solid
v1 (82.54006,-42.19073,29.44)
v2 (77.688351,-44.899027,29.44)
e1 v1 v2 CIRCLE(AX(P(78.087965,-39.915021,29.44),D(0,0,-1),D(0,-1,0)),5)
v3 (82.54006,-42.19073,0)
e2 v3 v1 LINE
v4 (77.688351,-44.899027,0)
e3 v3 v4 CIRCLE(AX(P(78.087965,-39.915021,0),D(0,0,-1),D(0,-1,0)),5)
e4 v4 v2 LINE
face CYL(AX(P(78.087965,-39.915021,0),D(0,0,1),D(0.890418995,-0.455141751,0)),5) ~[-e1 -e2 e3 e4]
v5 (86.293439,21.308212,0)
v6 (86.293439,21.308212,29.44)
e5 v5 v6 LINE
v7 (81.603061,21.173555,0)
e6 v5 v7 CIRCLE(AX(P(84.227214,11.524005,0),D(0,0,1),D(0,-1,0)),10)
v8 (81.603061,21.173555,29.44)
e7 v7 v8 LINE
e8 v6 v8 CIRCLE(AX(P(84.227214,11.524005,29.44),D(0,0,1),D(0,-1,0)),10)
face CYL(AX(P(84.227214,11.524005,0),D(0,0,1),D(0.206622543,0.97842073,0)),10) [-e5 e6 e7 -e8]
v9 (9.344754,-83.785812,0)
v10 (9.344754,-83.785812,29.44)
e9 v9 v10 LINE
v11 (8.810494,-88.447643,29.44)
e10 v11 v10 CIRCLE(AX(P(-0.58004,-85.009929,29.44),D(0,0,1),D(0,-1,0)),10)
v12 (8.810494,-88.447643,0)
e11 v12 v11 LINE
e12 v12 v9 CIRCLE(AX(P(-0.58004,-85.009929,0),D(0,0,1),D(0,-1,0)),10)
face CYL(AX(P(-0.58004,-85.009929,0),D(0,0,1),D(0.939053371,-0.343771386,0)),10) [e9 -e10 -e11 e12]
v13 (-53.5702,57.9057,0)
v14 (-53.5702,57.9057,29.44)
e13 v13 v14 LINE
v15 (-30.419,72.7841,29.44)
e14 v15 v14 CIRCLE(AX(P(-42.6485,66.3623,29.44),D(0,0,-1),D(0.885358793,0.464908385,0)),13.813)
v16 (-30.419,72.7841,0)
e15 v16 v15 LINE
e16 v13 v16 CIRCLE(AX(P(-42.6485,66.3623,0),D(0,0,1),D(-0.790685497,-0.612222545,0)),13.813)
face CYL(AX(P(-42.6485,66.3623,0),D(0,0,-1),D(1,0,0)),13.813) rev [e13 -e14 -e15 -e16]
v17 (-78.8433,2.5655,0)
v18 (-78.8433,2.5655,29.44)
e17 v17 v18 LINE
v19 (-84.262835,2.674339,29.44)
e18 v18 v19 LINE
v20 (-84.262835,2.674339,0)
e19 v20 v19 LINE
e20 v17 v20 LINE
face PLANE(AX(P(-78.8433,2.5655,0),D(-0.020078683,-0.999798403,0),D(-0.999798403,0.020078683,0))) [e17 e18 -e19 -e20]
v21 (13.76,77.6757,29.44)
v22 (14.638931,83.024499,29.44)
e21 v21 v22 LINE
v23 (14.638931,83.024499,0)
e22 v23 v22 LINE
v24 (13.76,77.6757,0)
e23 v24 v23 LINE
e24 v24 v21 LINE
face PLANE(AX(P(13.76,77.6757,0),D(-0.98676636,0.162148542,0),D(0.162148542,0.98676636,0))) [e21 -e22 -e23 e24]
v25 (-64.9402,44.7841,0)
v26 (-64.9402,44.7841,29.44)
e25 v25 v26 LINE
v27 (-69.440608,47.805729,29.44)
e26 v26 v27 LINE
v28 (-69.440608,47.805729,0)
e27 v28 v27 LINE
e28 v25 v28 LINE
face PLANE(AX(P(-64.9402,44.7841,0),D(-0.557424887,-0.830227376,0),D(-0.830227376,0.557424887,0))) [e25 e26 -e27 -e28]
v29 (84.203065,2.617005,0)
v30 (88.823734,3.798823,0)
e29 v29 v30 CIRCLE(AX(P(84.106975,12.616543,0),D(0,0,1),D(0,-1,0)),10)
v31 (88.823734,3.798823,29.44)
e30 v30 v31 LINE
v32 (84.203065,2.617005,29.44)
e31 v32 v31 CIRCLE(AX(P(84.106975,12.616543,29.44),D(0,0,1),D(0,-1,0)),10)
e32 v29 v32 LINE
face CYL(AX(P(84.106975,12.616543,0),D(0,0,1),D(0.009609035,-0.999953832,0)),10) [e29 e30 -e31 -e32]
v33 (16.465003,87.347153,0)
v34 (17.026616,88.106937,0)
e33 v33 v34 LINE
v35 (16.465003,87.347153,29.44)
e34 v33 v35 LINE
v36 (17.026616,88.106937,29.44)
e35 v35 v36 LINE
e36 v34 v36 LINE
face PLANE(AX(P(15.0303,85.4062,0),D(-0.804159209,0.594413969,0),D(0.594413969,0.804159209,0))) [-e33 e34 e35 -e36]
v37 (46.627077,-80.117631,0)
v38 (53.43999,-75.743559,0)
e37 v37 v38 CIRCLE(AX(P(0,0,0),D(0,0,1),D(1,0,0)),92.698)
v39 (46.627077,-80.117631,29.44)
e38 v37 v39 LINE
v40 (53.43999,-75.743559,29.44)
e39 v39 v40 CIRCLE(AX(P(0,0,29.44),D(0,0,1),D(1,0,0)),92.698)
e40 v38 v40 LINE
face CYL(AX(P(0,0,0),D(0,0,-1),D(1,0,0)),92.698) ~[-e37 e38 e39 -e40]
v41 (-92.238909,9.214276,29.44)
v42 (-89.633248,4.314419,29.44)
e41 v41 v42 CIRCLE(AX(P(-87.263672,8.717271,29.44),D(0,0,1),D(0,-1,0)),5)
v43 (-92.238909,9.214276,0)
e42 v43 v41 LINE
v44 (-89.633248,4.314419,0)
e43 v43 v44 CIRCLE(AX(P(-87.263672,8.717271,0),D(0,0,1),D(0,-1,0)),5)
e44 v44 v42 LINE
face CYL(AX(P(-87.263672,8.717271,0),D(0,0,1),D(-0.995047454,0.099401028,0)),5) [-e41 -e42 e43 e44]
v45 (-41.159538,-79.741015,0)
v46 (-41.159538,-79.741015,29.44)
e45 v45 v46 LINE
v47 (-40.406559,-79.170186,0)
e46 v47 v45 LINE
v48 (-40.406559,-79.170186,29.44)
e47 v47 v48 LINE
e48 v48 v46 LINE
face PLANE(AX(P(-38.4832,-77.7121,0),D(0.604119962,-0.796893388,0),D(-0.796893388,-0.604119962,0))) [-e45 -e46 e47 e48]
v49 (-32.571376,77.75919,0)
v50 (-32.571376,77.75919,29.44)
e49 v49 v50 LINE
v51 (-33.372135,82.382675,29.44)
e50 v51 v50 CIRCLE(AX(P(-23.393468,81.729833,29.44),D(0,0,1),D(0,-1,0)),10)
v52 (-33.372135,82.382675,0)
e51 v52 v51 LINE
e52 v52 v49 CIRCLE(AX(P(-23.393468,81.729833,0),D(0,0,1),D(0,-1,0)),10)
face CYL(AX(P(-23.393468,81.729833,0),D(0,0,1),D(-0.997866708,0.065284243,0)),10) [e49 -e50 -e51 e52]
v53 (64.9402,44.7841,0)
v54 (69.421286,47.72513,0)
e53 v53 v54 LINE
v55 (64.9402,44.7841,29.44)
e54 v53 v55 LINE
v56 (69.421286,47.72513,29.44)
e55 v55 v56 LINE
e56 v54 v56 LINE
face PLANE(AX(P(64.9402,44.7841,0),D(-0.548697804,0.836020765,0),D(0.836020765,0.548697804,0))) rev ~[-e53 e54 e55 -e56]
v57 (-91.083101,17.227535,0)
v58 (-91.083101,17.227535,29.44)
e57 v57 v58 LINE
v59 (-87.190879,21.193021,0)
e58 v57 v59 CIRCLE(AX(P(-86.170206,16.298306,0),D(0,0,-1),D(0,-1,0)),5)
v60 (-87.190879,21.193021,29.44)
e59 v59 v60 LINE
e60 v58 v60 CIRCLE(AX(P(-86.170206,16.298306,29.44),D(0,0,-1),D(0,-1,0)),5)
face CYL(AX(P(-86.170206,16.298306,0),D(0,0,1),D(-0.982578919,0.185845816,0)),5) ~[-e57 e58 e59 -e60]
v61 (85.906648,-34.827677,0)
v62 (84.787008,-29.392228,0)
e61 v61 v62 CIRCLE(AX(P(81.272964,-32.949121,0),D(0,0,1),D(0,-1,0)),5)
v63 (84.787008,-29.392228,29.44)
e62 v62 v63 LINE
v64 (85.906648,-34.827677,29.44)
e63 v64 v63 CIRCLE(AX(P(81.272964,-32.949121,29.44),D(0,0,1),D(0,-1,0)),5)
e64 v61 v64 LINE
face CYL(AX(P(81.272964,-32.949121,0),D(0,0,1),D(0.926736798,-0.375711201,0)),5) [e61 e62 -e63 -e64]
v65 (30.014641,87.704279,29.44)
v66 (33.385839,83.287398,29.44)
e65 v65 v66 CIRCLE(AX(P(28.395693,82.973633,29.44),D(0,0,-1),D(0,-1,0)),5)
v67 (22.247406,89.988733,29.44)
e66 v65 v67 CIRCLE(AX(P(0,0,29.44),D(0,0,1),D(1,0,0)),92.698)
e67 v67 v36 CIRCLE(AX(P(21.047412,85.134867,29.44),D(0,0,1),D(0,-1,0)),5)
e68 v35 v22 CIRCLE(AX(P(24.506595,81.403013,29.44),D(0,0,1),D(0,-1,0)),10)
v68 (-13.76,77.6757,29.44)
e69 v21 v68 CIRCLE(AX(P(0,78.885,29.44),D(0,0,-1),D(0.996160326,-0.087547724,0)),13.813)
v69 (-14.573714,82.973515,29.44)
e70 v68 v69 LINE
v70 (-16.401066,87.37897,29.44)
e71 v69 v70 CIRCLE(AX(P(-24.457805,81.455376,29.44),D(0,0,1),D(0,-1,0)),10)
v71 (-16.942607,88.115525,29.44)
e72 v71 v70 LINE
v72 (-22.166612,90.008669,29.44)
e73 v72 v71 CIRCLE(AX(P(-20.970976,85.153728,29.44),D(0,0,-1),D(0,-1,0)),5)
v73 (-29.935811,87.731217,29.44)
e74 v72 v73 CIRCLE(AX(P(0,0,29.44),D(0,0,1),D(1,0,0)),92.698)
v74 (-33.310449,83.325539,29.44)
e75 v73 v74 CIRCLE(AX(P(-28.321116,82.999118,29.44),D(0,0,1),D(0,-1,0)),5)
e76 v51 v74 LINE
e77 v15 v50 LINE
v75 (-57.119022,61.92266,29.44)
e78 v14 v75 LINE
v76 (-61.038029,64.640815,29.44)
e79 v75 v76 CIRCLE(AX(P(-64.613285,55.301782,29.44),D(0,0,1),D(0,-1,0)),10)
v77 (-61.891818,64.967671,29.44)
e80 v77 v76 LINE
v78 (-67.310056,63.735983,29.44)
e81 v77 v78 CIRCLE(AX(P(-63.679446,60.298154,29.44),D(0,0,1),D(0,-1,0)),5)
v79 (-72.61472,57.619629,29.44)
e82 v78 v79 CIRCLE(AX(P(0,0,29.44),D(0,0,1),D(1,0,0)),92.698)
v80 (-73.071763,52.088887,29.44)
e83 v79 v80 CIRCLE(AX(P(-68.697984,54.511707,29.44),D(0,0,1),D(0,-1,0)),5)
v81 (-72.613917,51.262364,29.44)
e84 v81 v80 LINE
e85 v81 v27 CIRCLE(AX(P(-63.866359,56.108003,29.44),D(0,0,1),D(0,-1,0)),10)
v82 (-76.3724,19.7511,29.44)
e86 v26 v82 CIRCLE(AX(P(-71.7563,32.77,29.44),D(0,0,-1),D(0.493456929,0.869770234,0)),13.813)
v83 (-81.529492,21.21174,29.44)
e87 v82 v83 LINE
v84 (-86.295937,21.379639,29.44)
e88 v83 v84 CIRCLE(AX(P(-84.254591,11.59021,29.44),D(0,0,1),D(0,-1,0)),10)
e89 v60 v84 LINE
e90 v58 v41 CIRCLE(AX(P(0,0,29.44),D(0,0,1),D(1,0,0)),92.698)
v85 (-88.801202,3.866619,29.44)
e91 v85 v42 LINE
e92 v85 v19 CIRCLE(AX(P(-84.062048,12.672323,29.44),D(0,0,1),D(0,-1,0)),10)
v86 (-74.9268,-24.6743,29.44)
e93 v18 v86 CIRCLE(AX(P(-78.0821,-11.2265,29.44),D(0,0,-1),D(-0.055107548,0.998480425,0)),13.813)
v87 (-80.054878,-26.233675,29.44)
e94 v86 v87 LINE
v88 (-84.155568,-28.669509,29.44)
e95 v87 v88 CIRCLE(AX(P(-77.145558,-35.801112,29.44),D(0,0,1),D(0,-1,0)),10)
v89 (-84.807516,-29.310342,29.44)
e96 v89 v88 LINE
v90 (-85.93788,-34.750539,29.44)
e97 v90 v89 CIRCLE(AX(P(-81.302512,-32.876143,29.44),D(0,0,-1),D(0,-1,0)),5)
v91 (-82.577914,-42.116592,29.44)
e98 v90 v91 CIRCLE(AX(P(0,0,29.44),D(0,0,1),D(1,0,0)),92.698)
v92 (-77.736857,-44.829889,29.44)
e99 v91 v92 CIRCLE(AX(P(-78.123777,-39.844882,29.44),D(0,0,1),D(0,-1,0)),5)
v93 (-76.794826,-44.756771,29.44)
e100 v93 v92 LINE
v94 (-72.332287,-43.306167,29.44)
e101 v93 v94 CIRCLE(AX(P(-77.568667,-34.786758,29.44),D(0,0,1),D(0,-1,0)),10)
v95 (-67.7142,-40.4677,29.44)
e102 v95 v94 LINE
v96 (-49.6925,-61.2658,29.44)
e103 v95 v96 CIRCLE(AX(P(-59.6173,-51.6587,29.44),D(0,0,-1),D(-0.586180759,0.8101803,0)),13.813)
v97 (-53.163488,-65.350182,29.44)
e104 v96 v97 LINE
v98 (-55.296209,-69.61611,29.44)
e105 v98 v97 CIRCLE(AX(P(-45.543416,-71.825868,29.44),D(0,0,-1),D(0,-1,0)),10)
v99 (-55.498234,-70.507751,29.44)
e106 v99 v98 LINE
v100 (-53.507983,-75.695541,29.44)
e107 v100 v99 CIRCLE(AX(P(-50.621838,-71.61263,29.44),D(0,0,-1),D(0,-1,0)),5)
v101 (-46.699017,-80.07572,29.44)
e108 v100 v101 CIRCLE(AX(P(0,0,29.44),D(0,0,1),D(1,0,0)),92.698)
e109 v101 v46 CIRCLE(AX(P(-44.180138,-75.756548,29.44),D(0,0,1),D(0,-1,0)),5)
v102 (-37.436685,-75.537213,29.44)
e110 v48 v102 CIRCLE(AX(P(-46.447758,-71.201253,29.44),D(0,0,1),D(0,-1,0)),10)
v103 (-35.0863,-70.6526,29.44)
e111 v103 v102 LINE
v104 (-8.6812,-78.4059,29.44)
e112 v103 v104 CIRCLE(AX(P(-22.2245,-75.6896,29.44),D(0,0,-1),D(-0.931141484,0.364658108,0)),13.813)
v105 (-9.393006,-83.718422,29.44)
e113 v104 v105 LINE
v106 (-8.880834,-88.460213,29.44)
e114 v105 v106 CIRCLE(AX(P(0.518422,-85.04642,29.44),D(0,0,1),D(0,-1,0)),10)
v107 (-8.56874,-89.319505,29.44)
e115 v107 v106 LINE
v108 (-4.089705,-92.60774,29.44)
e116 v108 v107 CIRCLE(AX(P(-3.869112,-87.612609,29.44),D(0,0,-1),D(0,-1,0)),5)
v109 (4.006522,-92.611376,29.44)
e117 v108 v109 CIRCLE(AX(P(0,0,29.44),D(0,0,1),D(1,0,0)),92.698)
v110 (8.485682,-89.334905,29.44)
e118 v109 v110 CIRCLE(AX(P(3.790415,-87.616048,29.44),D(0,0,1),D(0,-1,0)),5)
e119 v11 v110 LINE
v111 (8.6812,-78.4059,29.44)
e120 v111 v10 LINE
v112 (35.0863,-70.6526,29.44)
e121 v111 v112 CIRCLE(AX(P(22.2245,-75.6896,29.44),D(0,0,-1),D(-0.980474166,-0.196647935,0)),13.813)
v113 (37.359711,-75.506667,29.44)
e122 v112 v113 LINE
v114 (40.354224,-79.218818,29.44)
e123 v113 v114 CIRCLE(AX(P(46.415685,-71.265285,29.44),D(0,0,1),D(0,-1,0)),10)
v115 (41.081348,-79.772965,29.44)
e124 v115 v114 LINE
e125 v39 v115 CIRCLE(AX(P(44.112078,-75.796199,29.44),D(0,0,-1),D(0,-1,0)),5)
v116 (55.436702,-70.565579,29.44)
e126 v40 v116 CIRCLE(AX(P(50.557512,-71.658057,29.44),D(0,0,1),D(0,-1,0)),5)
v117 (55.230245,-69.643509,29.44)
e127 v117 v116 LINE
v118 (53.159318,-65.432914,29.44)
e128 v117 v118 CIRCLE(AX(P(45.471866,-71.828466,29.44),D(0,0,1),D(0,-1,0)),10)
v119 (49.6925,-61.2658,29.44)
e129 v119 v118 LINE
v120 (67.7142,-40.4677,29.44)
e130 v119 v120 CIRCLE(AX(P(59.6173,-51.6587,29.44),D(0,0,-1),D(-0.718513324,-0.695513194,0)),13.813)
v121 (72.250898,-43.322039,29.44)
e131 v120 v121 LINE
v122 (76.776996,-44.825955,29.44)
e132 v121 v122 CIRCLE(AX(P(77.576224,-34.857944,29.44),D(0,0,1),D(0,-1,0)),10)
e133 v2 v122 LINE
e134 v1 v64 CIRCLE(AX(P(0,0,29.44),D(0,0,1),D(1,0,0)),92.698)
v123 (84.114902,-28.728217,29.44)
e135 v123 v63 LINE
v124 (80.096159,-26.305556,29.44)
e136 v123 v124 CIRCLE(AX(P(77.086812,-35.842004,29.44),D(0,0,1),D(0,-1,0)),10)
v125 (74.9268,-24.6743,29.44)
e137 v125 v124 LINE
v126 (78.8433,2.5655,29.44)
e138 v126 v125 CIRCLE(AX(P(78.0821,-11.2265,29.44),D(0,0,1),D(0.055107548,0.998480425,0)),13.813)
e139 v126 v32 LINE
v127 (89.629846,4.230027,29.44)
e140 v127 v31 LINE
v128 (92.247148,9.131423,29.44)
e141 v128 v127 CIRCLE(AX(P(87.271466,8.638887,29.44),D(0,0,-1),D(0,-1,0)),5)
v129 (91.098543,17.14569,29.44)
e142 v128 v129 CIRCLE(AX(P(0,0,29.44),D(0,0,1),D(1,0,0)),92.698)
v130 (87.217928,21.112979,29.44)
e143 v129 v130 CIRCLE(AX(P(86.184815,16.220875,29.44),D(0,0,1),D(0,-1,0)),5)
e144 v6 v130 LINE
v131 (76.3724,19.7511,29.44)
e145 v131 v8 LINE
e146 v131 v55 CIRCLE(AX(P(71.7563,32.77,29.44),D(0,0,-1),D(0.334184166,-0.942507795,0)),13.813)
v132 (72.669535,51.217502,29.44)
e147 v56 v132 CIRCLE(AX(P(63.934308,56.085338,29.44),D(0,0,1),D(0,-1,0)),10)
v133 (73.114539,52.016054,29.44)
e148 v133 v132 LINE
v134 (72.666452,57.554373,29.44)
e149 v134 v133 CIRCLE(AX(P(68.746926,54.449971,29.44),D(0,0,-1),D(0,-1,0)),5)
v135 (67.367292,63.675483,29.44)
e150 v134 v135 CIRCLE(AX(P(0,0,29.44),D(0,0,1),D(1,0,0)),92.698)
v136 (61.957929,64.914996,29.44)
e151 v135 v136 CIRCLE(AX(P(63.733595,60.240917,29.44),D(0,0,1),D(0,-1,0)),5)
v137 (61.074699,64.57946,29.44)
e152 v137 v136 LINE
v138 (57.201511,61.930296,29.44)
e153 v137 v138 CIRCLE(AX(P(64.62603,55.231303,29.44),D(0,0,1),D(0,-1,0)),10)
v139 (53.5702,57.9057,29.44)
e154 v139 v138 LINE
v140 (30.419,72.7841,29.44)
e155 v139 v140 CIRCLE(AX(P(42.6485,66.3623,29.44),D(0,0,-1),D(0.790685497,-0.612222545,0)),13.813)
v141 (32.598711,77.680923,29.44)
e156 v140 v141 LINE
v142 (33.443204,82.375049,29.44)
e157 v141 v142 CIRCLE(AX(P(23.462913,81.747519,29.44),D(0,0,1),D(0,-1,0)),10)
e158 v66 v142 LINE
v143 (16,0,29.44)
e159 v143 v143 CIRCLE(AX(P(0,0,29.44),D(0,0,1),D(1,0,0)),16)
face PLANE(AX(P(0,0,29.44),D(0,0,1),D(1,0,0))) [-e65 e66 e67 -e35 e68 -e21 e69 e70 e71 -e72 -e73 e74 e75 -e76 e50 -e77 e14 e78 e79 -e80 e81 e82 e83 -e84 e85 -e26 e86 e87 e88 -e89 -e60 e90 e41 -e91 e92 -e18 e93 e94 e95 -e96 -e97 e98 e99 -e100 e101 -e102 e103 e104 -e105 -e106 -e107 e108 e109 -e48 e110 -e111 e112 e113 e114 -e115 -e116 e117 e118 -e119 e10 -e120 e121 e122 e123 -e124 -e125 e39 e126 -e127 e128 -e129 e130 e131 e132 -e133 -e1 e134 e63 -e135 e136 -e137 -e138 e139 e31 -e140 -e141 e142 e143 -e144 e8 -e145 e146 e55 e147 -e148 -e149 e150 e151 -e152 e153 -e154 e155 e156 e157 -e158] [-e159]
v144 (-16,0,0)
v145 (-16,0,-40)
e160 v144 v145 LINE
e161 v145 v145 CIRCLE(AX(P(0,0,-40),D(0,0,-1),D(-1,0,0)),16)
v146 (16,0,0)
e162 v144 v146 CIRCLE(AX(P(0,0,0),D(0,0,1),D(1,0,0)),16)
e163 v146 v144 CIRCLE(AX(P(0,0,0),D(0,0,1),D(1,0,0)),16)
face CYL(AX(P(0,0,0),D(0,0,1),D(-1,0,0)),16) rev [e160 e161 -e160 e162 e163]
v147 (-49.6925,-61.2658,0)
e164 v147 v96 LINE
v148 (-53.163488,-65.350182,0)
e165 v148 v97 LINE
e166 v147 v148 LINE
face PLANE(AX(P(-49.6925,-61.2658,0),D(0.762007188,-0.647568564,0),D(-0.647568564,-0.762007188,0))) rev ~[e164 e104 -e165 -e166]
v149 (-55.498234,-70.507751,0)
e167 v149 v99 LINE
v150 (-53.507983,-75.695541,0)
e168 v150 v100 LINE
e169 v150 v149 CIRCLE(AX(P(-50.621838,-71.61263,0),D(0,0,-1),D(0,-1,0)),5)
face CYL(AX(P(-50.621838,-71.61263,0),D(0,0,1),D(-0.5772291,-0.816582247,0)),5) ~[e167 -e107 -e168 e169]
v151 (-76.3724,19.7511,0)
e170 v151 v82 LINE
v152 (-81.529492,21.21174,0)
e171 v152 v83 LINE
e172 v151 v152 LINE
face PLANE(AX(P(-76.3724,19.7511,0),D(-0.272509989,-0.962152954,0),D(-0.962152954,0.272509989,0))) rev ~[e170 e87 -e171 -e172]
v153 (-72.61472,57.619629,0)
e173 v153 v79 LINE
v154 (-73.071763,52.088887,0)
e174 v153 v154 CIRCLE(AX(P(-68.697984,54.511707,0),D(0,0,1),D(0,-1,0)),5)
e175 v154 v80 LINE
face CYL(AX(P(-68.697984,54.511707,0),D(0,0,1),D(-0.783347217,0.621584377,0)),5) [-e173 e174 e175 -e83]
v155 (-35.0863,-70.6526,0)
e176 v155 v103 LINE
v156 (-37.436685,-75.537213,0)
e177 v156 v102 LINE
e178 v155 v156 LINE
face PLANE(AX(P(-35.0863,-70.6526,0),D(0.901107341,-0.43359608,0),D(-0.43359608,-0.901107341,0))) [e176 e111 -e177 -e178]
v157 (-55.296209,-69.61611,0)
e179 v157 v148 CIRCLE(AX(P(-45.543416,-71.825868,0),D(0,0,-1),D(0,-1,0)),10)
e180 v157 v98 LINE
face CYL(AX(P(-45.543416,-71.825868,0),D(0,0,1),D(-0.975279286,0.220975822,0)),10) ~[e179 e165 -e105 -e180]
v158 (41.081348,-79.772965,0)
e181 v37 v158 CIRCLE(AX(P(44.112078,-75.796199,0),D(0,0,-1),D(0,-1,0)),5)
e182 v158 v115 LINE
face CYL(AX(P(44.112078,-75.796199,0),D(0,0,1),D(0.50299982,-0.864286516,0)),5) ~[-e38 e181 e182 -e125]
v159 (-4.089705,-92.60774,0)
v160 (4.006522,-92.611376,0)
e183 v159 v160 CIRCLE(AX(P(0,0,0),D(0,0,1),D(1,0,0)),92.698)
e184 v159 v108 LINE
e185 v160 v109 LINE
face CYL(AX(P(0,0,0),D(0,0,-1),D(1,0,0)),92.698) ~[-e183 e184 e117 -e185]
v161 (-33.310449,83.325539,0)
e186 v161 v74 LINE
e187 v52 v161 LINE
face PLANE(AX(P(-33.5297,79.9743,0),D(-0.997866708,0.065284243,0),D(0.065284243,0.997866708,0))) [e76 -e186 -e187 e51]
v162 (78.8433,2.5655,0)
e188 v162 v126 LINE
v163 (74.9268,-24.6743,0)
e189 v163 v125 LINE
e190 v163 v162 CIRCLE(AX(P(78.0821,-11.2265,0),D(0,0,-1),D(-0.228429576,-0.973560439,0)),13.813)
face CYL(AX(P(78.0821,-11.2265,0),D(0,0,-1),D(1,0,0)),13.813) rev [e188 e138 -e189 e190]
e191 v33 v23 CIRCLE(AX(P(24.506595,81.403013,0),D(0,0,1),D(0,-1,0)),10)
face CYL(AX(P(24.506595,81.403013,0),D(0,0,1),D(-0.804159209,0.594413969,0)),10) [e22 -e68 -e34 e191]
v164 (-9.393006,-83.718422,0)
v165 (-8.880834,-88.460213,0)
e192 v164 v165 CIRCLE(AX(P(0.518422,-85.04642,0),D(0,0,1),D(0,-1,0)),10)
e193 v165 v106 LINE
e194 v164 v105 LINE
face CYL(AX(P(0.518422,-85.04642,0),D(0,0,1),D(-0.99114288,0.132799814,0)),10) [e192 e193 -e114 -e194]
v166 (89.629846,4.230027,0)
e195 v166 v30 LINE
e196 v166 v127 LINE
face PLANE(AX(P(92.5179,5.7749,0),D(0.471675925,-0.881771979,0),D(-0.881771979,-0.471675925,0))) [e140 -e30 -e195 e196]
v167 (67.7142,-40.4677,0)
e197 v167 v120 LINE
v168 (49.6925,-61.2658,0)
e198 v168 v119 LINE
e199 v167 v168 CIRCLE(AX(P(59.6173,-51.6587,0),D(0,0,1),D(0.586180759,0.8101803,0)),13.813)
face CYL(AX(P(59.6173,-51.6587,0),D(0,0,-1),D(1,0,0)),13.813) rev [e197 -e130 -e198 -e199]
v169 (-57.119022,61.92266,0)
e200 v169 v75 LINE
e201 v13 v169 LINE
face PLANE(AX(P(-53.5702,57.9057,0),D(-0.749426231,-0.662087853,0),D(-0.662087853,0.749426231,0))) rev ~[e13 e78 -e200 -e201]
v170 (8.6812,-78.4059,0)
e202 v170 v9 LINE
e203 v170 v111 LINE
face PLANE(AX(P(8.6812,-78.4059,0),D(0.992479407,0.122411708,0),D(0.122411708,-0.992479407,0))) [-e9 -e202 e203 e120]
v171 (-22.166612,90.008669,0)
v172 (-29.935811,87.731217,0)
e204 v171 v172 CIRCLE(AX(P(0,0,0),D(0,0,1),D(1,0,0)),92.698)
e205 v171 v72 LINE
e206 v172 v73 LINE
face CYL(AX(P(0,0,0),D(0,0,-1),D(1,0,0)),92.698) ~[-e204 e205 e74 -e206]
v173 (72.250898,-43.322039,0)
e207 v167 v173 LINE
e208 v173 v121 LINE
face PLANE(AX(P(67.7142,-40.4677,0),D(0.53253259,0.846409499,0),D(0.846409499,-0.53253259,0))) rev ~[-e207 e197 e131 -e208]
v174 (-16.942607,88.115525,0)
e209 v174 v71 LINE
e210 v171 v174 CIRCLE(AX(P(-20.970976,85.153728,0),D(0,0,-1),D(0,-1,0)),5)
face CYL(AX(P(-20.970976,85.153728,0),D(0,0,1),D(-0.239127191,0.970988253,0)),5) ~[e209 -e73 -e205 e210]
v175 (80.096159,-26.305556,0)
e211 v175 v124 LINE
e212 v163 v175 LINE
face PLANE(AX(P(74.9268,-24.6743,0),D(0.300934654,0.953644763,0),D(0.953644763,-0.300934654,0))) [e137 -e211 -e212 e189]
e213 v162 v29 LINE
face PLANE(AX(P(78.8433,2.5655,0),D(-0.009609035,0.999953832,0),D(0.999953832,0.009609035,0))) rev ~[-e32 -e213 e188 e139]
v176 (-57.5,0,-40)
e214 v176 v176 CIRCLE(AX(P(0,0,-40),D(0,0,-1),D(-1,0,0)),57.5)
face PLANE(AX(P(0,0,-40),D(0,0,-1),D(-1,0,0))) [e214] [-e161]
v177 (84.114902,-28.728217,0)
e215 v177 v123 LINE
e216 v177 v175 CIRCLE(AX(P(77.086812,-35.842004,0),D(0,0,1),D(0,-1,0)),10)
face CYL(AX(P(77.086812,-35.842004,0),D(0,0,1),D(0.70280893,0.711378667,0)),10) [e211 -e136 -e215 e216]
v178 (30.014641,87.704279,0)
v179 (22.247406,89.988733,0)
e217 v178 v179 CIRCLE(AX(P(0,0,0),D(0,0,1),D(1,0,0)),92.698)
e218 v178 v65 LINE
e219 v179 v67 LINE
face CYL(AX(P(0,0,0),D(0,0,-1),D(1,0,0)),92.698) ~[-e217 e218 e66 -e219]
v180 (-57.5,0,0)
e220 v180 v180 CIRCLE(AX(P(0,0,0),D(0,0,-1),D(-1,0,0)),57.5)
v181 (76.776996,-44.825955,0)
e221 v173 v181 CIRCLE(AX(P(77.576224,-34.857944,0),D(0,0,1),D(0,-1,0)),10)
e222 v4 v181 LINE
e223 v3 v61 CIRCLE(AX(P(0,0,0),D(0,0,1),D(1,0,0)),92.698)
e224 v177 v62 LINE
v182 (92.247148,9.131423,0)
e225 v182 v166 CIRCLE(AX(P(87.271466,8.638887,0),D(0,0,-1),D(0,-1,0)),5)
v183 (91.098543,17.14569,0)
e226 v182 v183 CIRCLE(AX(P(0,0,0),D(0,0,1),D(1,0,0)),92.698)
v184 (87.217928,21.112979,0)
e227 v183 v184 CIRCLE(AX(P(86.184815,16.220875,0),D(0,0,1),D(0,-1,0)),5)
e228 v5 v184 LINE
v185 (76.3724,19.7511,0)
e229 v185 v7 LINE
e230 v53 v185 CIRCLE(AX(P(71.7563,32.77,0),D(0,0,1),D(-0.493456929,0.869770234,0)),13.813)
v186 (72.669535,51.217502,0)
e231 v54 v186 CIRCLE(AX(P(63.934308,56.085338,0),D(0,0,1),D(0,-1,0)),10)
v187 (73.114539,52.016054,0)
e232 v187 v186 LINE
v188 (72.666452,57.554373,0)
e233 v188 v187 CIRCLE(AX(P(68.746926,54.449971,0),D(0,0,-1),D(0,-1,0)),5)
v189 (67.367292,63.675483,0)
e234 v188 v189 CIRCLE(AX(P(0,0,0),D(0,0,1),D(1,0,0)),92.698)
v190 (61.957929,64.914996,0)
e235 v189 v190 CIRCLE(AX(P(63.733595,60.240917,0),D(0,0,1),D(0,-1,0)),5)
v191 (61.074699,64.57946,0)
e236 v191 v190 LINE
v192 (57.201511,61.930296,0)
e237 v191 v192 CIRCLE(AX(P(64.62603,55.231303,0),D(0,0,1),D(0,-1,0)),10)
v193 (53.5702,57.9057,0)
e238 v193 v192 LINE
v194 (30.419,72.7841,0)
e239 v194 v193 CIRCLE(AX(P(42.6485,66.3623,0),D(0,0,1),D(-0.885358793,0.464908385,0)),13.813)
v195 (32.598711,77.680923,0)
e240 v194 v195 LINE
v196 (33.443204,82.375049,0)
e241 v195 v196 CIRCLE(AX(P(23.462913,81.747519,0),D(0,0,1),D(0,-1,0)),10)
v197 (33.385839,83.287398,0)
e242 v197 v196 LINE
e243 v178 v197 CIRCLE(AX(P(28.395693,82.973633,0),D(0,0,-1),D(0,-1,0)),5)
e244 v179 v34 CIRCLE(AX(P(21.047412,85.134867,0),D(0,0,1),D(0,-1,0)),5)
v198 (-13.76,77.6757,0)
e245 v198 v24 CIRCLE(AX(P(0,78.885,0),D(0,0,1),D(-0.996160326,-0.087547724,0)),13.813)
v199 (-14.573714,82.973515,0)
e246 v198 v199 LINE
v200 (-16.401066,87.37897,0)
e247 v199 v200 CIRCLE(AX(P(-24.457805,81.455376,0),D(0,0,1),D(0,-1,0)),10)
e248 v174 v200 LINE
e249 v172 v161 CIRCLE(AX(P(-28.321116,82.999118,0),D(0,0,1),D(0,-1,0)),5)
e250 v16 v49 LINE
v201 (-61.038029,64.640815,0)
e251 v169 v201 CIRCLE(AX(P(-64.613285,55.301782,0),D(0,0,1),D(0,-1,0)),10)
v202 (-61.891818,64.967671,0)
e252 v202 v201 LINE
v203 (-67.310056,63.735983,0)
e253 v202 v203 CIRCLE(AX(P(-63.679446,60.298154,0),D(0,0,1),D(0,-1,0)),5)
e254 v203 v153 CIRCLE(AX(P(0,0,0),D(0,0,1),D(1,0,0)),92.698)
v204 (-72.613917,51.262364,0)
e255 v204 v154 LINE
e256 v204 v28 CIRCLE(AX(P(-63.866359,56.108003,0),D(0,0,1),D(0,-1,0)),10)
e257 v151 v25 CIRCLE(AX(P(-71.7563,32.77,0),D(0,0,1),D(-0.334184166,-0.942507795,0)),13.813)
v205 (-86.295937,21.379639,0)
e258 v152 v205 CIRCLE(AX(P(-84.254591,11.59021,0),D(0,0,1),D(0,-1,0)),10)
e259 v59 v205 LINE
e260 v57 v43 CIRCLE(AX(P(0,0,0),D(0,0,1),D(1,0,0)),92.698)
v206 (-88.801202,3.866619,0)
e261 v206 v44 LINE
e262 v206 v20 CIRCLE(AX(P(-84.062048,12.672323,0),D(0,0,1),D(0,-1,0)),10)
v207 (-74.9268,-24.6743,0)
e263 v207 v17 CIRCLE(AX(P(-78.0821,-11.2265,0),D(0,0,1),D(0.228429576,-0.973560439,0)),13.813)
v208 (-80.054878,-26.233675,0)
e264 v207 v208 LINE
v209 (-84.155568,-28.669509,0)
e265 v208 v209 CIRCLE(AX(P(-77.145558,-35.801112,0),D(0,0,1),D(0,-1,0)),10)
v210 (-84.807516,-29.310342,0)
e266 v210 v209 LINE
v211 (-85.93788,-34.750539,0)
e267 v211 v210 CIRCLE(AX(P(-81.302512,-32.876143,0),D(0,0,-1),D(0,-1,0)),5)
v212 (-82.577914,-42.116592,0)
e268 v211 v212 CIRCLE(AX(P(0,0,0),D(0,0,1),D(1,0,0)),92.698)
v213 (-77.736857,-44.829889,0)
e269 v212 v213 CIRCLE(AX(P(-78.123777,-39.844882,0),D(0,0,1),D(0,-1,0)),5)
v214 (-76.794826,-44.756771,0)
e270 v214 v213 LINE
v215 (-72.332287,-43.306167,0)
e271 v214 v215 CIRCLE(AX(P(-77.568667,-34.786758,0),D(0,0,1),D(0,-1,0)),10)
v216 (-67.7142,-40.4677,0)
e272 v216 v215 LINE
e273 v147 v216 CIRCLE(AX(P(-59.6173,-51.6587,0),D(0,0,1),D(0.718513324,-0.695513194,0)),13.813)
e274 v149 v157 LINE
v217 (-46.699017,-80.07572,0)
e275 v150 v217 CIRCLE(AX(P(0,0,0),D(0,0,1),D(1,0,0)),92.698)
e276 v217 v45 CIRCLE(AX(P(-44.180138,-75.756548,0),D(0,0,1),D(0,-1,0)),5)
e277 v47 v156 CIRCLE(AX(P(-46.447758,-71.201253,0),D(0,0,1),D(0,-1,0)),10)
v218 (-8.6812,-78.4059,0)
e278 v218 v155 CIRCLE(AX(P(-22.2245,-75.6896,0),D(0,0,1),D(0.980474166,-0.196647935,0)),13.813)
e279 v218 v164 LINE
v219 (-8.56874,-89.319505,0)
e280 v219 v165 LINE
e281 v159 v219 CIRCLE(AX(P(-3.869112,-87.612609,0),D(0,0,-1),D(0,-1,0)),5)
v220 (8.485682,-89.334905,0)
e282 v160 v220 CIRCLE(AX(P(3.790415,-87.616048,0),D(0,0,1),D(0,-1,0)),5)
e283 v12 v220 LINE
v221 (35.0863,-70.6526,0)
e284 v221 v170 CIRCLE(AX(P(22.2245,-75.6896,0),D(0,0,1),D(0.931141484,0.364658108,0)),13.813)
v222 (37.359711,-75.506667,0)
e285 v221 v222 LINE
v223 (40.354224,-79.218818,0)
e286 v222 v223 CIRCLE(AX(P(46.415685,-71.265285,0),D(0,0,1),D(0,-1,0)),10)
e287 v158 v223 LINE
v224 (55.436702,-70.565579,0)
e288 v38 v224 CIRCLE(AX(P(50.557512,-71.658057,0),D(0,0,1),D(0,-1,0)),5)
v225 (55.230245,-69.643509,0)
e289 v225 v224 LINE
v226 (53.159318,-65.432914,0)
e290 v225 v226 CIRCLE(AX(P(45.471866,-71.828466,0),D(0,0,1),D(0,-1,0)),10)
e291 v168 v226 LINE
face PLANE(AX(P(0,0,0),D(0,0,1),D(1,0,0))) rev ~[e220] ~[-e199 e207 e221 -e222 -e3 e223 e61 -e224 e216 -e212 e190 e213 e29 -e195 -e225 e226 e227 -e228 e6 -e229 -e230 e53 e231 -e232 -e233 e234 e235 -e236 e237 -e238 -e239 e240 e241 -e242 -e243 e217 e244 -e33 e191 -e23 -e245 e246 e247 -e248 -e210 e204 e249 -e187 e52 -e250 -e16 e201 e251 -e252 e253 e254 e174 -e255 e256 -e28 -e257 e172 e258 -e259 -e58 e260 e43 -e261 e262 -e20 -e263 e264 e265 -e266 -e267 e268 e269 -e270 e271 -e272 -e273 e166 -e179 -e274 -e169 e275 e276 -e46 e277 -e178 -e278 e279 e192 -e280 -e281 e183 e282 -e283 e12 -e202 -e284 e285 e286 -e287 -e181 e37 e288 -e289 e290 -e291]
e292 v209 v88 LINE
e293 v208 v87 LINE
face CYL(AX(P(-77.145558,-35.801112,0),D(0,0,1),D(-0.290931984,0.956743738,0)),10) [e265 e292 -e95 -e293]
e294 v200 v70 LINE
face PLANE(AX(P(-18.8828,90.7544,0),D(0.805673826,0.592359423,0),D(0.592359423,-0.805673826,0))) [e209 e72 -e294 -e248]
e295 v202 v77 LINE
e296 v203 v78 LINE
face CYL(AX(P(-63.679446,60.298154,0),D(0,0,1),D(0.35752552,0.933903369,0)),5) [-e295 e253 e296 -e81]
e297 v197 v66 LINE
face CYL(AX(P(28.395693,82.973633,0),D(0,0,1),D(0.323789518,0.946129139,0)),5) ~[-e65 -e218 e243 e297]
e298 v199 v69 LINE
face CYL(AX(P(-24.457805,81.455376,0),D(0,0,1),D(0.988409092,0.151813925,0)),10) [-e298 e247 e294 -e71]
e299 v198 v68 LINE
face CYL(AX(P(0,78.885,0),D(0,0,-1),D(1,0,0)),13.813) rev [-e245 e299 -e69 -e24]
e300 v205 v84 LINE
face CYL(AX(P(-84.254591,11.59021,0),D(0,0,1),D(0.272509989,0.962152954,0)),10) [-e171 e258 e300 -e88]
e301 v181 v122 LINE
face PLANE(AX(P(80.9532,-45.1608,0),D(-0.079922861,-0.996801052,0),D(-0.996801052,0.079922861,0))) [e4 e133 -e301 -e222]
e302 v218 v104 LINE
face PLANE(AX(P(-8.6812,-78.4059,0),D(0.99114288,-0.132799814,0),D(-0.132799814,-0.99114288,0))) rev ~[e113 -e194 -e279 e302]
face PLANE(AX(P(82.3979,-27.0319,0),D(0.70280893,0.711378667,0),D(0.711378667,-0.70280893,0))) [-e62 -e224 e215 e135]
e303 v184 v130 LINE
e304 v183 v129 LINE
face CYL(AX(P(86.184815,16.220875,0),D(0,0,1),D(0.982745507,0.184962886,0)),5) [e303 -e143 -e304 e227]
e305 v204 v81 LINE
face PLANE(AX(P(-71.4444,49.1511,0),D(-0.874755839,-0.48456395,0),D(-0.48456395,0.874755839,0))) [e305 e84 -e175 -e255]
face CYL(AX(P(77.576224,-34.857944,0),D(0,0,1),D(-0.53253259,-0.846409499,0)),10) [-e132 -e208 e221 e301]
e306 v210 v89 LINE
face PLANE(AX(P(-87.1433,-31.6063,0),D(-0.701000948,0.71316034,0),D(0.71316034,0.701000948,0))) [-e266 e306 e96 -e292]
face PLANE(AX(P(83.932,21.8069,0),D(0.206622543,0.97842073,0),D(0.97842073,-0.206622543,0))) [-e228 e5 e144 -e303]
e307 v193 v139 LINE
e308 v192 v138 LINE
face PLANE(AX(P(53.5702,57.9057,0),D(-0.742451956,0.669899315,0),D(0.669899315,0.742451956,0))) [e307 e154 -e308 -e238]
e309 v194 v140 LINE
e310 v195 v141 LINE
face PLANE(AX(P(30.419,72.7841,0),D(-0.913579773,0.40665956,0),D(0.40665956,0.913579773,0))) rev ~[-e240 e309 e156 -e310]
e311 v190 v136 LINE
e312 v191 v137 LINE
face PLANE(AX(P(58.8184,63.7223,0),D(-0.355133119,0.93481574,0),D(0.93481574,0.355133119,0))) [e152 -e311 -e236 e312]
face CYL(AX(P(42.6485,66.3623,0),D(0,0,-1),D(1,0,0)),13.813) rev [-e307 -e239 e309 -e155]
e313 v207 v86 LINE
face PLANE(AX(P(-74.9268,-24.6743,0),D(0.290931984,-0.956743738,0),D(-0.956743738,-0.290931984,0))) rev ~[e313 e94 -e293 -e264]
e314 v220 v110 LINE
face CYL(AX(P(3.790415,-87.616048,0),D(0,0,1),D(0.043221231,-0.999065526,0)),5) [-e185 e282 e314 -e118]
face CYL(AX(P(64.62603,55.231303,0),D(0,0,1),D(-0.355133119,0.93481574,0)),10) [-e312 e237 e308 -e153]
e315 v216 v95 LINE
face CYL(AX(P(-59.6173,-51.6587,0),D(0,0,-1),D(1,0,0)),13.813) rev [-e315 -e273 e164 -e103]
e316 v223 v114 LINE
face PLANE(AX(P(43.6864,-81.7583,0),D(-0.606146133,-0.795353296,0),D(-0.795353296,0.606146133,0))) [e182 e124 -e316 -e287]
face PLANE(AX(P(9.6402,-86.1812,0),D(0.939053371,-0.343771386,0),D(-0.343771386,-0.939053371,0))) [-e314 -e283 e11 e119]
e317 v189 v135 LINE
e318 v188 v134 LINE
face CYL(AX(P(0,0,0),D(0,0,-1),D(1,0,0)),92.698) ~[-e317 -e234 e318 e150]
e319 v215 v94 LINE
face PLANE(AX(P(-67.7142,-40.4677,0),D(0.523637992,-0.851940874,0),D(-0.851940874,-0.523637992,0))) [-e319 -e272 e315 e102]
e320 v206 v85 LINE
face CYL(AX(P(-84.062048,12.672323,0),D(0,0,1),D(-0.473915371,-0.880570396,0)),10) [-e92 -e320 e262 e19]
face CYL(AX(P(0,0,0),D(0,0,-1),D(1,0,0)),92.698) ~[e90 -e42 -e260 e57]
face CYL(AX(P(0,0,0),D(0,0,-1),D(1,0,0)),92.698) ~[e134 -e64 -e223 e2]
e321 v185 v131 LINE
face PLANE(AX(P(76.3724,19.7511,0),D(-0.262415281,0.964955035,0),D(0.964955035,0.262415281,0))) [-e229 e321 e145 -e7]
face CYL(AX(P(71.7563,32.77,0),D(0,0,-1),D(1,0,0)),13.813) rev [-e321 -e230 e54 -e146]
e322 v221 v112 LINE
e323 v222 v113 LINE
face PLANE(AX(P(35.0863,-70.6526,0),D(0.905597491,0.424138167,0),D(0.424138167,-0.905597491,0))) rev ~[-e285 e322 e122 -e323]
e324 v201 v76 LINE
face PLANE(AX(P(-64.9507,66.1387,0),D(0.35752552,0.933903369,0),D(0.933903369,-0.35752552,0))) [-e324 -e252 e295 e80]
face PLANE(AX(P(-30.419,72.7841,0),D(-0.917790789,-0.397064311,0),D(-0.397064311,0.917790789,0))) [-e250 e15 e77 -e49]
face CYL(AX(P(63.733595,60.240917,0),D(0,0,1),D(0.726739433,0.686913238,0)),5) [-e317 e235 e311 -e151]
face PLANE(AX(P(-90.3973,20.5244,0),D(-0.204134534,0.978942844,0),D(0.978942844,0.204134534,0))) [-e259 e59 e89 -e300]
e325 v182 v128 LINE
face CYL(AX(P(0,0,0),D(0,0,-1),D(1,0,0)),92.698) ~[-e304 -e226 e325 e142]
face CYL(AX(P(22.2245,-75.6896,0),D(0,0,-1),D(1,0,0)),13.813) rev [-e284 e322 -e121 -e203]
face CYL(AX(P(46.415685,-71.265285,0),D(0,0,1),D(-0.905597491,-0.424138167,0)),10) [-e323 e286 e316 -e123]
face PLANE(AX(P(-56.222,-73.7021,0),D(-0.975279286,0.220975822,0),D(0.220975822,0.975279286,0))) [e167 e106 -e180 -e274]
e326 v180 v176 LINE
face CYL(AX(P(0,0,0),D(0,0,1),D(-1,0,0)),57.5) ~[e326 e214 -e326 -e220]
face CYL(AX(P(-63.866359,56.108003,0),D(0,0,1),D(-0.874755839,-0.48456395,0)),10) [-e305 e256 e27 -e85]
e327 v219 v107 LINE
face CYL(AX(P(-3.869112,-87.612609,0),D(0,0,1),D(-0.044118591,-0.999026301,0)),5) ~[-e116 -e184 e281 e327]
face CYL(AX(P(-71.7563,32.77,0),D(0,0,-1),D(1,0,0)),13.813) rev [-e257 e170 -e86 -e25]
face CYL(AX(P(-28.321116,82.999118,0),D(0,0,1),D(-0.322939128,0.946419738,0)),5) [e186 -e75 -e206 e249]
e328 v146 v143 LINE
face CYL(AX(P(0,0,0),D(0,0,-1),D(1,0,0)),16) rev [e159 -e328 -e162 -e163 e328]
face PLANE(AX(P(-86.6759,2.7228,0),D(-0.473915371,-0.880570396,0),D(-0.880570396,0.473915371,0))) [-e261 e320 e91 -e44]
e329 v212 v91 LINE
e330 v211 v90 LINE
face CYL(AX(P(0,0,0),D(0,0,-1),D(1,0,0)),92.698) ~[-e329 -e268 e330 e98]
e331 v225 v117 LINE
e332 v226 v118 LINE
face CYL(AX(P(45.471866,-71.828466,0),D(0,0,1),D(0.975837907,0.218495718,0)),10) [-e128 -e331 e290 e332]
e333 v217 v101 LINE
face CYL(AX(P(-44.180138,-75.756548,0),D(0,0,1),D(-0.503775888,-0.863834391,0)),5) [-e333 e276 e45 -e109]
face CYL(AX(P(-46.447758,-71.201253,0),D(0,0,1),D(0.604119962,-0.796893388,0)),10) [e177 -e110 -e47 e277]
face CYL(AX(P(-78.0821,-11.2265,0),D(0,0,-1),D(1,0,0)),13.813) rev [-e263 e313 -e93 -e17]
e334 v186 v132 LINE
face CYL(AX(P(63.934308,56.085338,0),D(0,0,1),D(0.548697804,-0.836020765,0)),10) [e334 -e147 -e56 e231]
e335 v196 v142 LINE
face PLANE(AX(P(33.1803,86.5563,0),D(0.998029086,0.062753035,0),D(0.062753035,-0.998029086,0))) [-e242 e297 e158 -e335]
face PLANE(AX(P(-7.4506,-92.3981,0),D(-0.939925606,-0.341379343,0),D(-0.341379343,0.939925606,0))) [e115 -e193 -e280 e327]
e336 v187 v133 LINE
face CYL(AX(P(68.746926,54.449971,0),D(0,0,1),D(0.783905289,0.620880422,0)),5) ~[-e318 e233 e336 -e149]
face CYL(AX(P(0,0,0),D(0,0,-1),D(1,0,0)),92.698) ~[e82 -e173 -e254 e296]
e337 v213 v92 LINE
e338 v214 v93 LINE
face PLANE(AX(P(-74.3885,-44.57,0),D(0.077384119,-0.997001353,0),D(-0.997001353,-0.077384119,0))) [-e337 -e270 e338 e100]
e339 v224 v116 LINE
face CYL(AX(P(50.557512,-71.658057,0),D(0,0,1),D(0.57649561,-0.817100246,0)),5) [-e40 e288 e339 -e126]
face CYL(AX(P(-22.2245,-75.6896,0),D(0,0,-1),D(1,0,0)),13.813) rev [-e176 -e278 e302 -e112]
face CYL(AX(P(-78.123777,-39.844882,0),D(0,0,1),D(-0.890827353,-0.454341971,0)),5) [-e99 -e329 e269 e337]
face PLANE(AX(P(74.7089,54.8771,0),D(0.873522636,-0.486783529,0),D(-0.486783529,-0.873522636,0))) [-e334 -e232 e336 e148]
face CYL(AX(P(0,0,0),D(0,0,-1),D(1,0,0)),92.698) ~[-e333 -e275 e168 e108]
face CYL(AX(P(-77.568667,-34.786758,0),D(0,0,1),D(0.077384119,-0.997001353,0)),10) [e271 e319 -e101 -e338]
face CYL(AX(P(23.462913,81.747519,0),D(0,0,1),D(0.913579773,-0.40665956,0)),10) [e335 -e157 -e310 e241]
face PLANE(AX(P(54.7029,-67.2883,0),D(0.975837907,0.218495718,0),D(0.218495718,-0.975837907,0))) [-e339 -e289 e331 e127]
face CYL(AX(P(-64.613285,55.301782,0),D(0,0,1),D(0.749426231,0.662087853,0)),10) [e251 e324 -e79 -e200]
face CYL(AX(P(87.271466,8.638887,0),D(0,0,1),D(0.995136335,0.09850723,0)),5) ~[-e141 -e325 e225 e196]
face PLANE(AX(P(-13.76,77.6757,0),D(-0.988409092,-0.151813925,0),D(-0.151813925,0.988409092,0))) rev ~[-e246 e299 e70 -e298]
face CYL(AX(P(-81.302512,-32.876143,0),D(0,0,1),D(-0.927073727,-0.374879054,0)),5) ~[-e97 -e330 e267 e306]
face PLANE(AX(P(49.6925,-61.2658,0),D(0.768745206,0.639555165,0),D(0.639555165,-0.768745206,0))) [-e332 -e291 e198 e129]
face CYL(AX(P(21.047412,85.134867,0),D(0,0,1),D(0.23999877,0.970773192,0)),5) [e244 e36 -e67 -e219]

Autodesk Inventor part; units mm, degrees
ref_plane "YZ Plane" through (0, 0, 0) normal (1, 0, 0) x (0, 1, 0)
ref_plane "XZ Plane" through (0, 0, 0) normal (0, 1, 0) x (-1, 0, 0)
ref_plane "XY Plane" through (0, 0, 0) normal (0, 0, 1) x (1, 0, 0)
sketch "Sketch1" plane through (0, 0, 0) normal (0, 0, 1) x (1, 0, 0)
  circle A0 centre (0, 0) radius 78.885
  circle A1 centre (0, 0) radius 16
  circle A2 centre (0, 0) radius 92.698
  circle A3 centre (0, 78.885) radius 13.813
  circle A4 centre (-42.6485, 66.3623) radius 13.813
  circle A5 centre (-71.7563, 32.77) radius 13.813
  circle A6 centre (-78.0821, -11.2265) radius 13.813
  circle A7 centre (-59.6173, -51.6587) radius 13.813
  circle A8 centre (-22.2245, -75.6896) radius 13.813
  circle A9 centre (22.2245, -75.6896) radius 13.813
  circle A10 centre (59.6173, -51.6587) radius 13.813
  circle A11 centre (78.0821, -11.2265) radius 13.813
  circle A12 centre (71.7563, 32.77) radius 13.813
  circle A13 centre (42.6485, 66.3623) radius 13.813
  circle A14 centre (0, 0) radius 65.072
  line L0 (13.76, 77.6757) -> (15.0303, 85.4062)
  line L1 (30.419, 72.7841) -> (33.5973, 79.9243)
  line L2 (15.0303, 85.4062) -> (18.9701, 90.7362)
  line L3 (33.1803, 86.5563) -> (33.5973, 79.9243)
  line L4 (-33.5297, 79.9743) -> (-33.097, 86.5881)
  line L5 (-30.419, 72.7841) -> (-33.5297, 79.9743)
  line L6 (-18.8828, 90.7544) -> (-14.9465, 85.4006)
  line L7 (-13.76, 77.6757) -> (-14.9465, 85.4006)
  line L8 (-71.4444, 49.1511) -> (-74.6561, 54.949)
  line L9 (-64.9402, 44.7841) -> (-71.4444, 49.1511)
  line L10 (-64.9507, 66.1387) -> (-58.7448, 63.7629)
  line L11 (-53.5702, 57.9057) -> (-58.7448, 63.7629)
  line L12 (-86.6759, 2.7228) -> (-92.5123, 5.8639)
  line L13 (-78.8433, 2.5655) -> (-86.6759, 2.7228)
  line L14 (-90.3973, 20.5244) -> (-83.8921, 21.8809)
  line L15 (-76.3724, 19.7511) -> (-83.8921, 21.8809)
  line L16 (-74.3885, -44.57) -> (-80.9966, -45.0829)
  line L17 (-67.7142, -40.4677) -> (-74.3885, -44.57)
  line L18 (-87.1433, -31.6063) -> (-82.4043, -26.9481)
  line L19 (-74.9268, -24.6743) -> (-82.4043, -26.9481)
  line L20 (-38.4832, -77.7121) -> (-43.765, -81.7162)
  line L21 (-35.0863, -70.6526) -> (-38.4832, -77.7121)
  line L22 (-56.222, -73.7021) -> (-54.7536, -67.2213)
  line L23 (-49.6925, -61.2658) -> (-54.7536, -67.2213)
  line L24 (9.6402, -86.1812) -> (7.3617, -92.4052)
  line L25 (8.6812, -78.4059) -> (9.6402, -86.1812)
  line L26 (-7.4506, -92.3981) -> (-9.7191, -86.1522)
  line L27 (-8.6812, -78.4059) -> (-9.7191, -86.1522)
  line L28 (54.7029, -67.2883) -> (56.1511, -73.7562)
  line L29 (49.6925, -61.2658) -> (54.7029, -67.2883)
  line L30 (43.6864, -81.7583) -> (38.4012, -77.7304)
  line L31 (35.0863, -70.6526) -> (38.4012, -77.7304)
  line L32 (82.3979, -27.0319) -> (87.1129, -31.6901)
  line L33 (74.9268, -24.6743) -> (82.3979, -27.0319)
  line L34 (80.9532, -45.1608) -> (74.3293, -44.6297)
  line L35 (67.7142, -40.4677) -> (74.3293, -44.6297)
  line L36 (83.932, 21.8069) -> (90.417, 20.4374)
  line L37 (76.3724, 19.7511) -> (83.932, 21.8069)
  line L38 (92.5179, 5.7749) -> (86.6585, 2.6406)
  line L39 (78.8433, 2.5655) -> (86.6585, 2.6406)
  line L40 (58.8184, 63.7223) -> (65.0143, 66.0761)
  line L41 (53.5702, 57.9057) -> (58.8184, 63.7223)
  line L42 (74.7089, 54.8771) -> (71.4742, 49.0725)
  line L43 (64.9402, 44.7841) -> (71.4742, 49.0725)
  point P0 (-53.5702, 57.9057)
  point P1 (-64.9402, 44.7841)
  point P2 (-76.3724, 19.7511)
  point P3 (-78.8433, 2.5655)
  point P4 (-74.9268, -24.6743)
  point P5 (-67.7142, -40.4677)
  point P6 (-49.6925, -61.2658)
  point P7 (-8.6812, -78.4059)
  point P8 (8.6812, -78.4059)
  point P9 (35.0863, -70.6526)
  point P10 (49.6925, -61.2658)
  point P11 (67.7142, -40.4677)
  point P12 (74.9268, -24.6743)
  point P13 (78.8433, 2.5655)
  point P14 (76.3724, 19.7511)
  point P15 (64.9402, 44.7841)
  point P16 (53.5702, 57.9057)
  point P17 (-13.76, 77.6757)
  dimension "d0" = 157.77
  dimension "d1" = 32
  dimension "d2" = 185.396
  dimension "d5" = 360
  dimension "d9" = 360
extrude "Extrusion1" add sketch "Sketch1" along normal blind 29.44 contours A11 A14 A12 A0 | A0 L37 L36 A2 L38 L39 | L33 L32 A2 L34 L35 A0 | A0 A10 A14 A11 | A14 | A12 A14 A13 A0 | A0 L41 L40 A2 L42 L43 | A10 A0 A9 A14 | L29 L28 A2 L30 L31 A0 | A14 A3 A0 A13 | A9 A0 A8 A14 | A0 L0 L2 A2 L3 L1 | A14 A4 A0 A3 | L25 L24 A2 L26 L27 A0 | A8 A0 A7 A14 | A0 L5 L4 A2 L6 L7 | A14 A5 A0 A4 | L21 L20 A2 L22 L23 A0 | A7 A0 A6 A14 | A0 L9 L8 A2 L10 L11 | A14 A6 A0 A5 | L17 L16 A2 L18 L19 A0 | A0 L13 L12 A2 L14 L15
sketch "Sketch2" plane through (0, 0, 0) normal (0, 0, -1) x (-1, 0, 0)
  circle A0 centre (0, 0) radius 16 projected
  circle A1 centre (0, 0) radius 57.5
  dimension "d13" = 115
extrude "Extrusion2" add sketch "Sketch2" along normal blind 40
fillet "Fillet1" radius 5 1 edges at (-64.9507, 66.1387, 14.72)
fillet "Fillet2" radius 5 1 edges at (-74.6561, 54.949, 14.72)
pattern_circular "Circular Pattern1" count 11 over 360 about axis through (0, 0, 0) along (0, 0, 1) of "Fillet2", "Fillet1"
fillet "Fillet3" radius 10 1 edges at (-38.4832, -77.7121, 14.72)
fillet "Fillet4" radius 10 1 edges at (-54.7536, -67.2213, 14.72)
pattern_circular "Circular Pattern2" count 11 over 360 about axis through (0, 0, 0) along (0, 0, 1) of "Fillet4", "Fillet3"
ref_plane "Work Plane1" through (0, 0, 14.72) normal (0, 0, 1) x (1, 0, 0)
properties part number "Piñon Motriz" material "Steel, Galvanized"
